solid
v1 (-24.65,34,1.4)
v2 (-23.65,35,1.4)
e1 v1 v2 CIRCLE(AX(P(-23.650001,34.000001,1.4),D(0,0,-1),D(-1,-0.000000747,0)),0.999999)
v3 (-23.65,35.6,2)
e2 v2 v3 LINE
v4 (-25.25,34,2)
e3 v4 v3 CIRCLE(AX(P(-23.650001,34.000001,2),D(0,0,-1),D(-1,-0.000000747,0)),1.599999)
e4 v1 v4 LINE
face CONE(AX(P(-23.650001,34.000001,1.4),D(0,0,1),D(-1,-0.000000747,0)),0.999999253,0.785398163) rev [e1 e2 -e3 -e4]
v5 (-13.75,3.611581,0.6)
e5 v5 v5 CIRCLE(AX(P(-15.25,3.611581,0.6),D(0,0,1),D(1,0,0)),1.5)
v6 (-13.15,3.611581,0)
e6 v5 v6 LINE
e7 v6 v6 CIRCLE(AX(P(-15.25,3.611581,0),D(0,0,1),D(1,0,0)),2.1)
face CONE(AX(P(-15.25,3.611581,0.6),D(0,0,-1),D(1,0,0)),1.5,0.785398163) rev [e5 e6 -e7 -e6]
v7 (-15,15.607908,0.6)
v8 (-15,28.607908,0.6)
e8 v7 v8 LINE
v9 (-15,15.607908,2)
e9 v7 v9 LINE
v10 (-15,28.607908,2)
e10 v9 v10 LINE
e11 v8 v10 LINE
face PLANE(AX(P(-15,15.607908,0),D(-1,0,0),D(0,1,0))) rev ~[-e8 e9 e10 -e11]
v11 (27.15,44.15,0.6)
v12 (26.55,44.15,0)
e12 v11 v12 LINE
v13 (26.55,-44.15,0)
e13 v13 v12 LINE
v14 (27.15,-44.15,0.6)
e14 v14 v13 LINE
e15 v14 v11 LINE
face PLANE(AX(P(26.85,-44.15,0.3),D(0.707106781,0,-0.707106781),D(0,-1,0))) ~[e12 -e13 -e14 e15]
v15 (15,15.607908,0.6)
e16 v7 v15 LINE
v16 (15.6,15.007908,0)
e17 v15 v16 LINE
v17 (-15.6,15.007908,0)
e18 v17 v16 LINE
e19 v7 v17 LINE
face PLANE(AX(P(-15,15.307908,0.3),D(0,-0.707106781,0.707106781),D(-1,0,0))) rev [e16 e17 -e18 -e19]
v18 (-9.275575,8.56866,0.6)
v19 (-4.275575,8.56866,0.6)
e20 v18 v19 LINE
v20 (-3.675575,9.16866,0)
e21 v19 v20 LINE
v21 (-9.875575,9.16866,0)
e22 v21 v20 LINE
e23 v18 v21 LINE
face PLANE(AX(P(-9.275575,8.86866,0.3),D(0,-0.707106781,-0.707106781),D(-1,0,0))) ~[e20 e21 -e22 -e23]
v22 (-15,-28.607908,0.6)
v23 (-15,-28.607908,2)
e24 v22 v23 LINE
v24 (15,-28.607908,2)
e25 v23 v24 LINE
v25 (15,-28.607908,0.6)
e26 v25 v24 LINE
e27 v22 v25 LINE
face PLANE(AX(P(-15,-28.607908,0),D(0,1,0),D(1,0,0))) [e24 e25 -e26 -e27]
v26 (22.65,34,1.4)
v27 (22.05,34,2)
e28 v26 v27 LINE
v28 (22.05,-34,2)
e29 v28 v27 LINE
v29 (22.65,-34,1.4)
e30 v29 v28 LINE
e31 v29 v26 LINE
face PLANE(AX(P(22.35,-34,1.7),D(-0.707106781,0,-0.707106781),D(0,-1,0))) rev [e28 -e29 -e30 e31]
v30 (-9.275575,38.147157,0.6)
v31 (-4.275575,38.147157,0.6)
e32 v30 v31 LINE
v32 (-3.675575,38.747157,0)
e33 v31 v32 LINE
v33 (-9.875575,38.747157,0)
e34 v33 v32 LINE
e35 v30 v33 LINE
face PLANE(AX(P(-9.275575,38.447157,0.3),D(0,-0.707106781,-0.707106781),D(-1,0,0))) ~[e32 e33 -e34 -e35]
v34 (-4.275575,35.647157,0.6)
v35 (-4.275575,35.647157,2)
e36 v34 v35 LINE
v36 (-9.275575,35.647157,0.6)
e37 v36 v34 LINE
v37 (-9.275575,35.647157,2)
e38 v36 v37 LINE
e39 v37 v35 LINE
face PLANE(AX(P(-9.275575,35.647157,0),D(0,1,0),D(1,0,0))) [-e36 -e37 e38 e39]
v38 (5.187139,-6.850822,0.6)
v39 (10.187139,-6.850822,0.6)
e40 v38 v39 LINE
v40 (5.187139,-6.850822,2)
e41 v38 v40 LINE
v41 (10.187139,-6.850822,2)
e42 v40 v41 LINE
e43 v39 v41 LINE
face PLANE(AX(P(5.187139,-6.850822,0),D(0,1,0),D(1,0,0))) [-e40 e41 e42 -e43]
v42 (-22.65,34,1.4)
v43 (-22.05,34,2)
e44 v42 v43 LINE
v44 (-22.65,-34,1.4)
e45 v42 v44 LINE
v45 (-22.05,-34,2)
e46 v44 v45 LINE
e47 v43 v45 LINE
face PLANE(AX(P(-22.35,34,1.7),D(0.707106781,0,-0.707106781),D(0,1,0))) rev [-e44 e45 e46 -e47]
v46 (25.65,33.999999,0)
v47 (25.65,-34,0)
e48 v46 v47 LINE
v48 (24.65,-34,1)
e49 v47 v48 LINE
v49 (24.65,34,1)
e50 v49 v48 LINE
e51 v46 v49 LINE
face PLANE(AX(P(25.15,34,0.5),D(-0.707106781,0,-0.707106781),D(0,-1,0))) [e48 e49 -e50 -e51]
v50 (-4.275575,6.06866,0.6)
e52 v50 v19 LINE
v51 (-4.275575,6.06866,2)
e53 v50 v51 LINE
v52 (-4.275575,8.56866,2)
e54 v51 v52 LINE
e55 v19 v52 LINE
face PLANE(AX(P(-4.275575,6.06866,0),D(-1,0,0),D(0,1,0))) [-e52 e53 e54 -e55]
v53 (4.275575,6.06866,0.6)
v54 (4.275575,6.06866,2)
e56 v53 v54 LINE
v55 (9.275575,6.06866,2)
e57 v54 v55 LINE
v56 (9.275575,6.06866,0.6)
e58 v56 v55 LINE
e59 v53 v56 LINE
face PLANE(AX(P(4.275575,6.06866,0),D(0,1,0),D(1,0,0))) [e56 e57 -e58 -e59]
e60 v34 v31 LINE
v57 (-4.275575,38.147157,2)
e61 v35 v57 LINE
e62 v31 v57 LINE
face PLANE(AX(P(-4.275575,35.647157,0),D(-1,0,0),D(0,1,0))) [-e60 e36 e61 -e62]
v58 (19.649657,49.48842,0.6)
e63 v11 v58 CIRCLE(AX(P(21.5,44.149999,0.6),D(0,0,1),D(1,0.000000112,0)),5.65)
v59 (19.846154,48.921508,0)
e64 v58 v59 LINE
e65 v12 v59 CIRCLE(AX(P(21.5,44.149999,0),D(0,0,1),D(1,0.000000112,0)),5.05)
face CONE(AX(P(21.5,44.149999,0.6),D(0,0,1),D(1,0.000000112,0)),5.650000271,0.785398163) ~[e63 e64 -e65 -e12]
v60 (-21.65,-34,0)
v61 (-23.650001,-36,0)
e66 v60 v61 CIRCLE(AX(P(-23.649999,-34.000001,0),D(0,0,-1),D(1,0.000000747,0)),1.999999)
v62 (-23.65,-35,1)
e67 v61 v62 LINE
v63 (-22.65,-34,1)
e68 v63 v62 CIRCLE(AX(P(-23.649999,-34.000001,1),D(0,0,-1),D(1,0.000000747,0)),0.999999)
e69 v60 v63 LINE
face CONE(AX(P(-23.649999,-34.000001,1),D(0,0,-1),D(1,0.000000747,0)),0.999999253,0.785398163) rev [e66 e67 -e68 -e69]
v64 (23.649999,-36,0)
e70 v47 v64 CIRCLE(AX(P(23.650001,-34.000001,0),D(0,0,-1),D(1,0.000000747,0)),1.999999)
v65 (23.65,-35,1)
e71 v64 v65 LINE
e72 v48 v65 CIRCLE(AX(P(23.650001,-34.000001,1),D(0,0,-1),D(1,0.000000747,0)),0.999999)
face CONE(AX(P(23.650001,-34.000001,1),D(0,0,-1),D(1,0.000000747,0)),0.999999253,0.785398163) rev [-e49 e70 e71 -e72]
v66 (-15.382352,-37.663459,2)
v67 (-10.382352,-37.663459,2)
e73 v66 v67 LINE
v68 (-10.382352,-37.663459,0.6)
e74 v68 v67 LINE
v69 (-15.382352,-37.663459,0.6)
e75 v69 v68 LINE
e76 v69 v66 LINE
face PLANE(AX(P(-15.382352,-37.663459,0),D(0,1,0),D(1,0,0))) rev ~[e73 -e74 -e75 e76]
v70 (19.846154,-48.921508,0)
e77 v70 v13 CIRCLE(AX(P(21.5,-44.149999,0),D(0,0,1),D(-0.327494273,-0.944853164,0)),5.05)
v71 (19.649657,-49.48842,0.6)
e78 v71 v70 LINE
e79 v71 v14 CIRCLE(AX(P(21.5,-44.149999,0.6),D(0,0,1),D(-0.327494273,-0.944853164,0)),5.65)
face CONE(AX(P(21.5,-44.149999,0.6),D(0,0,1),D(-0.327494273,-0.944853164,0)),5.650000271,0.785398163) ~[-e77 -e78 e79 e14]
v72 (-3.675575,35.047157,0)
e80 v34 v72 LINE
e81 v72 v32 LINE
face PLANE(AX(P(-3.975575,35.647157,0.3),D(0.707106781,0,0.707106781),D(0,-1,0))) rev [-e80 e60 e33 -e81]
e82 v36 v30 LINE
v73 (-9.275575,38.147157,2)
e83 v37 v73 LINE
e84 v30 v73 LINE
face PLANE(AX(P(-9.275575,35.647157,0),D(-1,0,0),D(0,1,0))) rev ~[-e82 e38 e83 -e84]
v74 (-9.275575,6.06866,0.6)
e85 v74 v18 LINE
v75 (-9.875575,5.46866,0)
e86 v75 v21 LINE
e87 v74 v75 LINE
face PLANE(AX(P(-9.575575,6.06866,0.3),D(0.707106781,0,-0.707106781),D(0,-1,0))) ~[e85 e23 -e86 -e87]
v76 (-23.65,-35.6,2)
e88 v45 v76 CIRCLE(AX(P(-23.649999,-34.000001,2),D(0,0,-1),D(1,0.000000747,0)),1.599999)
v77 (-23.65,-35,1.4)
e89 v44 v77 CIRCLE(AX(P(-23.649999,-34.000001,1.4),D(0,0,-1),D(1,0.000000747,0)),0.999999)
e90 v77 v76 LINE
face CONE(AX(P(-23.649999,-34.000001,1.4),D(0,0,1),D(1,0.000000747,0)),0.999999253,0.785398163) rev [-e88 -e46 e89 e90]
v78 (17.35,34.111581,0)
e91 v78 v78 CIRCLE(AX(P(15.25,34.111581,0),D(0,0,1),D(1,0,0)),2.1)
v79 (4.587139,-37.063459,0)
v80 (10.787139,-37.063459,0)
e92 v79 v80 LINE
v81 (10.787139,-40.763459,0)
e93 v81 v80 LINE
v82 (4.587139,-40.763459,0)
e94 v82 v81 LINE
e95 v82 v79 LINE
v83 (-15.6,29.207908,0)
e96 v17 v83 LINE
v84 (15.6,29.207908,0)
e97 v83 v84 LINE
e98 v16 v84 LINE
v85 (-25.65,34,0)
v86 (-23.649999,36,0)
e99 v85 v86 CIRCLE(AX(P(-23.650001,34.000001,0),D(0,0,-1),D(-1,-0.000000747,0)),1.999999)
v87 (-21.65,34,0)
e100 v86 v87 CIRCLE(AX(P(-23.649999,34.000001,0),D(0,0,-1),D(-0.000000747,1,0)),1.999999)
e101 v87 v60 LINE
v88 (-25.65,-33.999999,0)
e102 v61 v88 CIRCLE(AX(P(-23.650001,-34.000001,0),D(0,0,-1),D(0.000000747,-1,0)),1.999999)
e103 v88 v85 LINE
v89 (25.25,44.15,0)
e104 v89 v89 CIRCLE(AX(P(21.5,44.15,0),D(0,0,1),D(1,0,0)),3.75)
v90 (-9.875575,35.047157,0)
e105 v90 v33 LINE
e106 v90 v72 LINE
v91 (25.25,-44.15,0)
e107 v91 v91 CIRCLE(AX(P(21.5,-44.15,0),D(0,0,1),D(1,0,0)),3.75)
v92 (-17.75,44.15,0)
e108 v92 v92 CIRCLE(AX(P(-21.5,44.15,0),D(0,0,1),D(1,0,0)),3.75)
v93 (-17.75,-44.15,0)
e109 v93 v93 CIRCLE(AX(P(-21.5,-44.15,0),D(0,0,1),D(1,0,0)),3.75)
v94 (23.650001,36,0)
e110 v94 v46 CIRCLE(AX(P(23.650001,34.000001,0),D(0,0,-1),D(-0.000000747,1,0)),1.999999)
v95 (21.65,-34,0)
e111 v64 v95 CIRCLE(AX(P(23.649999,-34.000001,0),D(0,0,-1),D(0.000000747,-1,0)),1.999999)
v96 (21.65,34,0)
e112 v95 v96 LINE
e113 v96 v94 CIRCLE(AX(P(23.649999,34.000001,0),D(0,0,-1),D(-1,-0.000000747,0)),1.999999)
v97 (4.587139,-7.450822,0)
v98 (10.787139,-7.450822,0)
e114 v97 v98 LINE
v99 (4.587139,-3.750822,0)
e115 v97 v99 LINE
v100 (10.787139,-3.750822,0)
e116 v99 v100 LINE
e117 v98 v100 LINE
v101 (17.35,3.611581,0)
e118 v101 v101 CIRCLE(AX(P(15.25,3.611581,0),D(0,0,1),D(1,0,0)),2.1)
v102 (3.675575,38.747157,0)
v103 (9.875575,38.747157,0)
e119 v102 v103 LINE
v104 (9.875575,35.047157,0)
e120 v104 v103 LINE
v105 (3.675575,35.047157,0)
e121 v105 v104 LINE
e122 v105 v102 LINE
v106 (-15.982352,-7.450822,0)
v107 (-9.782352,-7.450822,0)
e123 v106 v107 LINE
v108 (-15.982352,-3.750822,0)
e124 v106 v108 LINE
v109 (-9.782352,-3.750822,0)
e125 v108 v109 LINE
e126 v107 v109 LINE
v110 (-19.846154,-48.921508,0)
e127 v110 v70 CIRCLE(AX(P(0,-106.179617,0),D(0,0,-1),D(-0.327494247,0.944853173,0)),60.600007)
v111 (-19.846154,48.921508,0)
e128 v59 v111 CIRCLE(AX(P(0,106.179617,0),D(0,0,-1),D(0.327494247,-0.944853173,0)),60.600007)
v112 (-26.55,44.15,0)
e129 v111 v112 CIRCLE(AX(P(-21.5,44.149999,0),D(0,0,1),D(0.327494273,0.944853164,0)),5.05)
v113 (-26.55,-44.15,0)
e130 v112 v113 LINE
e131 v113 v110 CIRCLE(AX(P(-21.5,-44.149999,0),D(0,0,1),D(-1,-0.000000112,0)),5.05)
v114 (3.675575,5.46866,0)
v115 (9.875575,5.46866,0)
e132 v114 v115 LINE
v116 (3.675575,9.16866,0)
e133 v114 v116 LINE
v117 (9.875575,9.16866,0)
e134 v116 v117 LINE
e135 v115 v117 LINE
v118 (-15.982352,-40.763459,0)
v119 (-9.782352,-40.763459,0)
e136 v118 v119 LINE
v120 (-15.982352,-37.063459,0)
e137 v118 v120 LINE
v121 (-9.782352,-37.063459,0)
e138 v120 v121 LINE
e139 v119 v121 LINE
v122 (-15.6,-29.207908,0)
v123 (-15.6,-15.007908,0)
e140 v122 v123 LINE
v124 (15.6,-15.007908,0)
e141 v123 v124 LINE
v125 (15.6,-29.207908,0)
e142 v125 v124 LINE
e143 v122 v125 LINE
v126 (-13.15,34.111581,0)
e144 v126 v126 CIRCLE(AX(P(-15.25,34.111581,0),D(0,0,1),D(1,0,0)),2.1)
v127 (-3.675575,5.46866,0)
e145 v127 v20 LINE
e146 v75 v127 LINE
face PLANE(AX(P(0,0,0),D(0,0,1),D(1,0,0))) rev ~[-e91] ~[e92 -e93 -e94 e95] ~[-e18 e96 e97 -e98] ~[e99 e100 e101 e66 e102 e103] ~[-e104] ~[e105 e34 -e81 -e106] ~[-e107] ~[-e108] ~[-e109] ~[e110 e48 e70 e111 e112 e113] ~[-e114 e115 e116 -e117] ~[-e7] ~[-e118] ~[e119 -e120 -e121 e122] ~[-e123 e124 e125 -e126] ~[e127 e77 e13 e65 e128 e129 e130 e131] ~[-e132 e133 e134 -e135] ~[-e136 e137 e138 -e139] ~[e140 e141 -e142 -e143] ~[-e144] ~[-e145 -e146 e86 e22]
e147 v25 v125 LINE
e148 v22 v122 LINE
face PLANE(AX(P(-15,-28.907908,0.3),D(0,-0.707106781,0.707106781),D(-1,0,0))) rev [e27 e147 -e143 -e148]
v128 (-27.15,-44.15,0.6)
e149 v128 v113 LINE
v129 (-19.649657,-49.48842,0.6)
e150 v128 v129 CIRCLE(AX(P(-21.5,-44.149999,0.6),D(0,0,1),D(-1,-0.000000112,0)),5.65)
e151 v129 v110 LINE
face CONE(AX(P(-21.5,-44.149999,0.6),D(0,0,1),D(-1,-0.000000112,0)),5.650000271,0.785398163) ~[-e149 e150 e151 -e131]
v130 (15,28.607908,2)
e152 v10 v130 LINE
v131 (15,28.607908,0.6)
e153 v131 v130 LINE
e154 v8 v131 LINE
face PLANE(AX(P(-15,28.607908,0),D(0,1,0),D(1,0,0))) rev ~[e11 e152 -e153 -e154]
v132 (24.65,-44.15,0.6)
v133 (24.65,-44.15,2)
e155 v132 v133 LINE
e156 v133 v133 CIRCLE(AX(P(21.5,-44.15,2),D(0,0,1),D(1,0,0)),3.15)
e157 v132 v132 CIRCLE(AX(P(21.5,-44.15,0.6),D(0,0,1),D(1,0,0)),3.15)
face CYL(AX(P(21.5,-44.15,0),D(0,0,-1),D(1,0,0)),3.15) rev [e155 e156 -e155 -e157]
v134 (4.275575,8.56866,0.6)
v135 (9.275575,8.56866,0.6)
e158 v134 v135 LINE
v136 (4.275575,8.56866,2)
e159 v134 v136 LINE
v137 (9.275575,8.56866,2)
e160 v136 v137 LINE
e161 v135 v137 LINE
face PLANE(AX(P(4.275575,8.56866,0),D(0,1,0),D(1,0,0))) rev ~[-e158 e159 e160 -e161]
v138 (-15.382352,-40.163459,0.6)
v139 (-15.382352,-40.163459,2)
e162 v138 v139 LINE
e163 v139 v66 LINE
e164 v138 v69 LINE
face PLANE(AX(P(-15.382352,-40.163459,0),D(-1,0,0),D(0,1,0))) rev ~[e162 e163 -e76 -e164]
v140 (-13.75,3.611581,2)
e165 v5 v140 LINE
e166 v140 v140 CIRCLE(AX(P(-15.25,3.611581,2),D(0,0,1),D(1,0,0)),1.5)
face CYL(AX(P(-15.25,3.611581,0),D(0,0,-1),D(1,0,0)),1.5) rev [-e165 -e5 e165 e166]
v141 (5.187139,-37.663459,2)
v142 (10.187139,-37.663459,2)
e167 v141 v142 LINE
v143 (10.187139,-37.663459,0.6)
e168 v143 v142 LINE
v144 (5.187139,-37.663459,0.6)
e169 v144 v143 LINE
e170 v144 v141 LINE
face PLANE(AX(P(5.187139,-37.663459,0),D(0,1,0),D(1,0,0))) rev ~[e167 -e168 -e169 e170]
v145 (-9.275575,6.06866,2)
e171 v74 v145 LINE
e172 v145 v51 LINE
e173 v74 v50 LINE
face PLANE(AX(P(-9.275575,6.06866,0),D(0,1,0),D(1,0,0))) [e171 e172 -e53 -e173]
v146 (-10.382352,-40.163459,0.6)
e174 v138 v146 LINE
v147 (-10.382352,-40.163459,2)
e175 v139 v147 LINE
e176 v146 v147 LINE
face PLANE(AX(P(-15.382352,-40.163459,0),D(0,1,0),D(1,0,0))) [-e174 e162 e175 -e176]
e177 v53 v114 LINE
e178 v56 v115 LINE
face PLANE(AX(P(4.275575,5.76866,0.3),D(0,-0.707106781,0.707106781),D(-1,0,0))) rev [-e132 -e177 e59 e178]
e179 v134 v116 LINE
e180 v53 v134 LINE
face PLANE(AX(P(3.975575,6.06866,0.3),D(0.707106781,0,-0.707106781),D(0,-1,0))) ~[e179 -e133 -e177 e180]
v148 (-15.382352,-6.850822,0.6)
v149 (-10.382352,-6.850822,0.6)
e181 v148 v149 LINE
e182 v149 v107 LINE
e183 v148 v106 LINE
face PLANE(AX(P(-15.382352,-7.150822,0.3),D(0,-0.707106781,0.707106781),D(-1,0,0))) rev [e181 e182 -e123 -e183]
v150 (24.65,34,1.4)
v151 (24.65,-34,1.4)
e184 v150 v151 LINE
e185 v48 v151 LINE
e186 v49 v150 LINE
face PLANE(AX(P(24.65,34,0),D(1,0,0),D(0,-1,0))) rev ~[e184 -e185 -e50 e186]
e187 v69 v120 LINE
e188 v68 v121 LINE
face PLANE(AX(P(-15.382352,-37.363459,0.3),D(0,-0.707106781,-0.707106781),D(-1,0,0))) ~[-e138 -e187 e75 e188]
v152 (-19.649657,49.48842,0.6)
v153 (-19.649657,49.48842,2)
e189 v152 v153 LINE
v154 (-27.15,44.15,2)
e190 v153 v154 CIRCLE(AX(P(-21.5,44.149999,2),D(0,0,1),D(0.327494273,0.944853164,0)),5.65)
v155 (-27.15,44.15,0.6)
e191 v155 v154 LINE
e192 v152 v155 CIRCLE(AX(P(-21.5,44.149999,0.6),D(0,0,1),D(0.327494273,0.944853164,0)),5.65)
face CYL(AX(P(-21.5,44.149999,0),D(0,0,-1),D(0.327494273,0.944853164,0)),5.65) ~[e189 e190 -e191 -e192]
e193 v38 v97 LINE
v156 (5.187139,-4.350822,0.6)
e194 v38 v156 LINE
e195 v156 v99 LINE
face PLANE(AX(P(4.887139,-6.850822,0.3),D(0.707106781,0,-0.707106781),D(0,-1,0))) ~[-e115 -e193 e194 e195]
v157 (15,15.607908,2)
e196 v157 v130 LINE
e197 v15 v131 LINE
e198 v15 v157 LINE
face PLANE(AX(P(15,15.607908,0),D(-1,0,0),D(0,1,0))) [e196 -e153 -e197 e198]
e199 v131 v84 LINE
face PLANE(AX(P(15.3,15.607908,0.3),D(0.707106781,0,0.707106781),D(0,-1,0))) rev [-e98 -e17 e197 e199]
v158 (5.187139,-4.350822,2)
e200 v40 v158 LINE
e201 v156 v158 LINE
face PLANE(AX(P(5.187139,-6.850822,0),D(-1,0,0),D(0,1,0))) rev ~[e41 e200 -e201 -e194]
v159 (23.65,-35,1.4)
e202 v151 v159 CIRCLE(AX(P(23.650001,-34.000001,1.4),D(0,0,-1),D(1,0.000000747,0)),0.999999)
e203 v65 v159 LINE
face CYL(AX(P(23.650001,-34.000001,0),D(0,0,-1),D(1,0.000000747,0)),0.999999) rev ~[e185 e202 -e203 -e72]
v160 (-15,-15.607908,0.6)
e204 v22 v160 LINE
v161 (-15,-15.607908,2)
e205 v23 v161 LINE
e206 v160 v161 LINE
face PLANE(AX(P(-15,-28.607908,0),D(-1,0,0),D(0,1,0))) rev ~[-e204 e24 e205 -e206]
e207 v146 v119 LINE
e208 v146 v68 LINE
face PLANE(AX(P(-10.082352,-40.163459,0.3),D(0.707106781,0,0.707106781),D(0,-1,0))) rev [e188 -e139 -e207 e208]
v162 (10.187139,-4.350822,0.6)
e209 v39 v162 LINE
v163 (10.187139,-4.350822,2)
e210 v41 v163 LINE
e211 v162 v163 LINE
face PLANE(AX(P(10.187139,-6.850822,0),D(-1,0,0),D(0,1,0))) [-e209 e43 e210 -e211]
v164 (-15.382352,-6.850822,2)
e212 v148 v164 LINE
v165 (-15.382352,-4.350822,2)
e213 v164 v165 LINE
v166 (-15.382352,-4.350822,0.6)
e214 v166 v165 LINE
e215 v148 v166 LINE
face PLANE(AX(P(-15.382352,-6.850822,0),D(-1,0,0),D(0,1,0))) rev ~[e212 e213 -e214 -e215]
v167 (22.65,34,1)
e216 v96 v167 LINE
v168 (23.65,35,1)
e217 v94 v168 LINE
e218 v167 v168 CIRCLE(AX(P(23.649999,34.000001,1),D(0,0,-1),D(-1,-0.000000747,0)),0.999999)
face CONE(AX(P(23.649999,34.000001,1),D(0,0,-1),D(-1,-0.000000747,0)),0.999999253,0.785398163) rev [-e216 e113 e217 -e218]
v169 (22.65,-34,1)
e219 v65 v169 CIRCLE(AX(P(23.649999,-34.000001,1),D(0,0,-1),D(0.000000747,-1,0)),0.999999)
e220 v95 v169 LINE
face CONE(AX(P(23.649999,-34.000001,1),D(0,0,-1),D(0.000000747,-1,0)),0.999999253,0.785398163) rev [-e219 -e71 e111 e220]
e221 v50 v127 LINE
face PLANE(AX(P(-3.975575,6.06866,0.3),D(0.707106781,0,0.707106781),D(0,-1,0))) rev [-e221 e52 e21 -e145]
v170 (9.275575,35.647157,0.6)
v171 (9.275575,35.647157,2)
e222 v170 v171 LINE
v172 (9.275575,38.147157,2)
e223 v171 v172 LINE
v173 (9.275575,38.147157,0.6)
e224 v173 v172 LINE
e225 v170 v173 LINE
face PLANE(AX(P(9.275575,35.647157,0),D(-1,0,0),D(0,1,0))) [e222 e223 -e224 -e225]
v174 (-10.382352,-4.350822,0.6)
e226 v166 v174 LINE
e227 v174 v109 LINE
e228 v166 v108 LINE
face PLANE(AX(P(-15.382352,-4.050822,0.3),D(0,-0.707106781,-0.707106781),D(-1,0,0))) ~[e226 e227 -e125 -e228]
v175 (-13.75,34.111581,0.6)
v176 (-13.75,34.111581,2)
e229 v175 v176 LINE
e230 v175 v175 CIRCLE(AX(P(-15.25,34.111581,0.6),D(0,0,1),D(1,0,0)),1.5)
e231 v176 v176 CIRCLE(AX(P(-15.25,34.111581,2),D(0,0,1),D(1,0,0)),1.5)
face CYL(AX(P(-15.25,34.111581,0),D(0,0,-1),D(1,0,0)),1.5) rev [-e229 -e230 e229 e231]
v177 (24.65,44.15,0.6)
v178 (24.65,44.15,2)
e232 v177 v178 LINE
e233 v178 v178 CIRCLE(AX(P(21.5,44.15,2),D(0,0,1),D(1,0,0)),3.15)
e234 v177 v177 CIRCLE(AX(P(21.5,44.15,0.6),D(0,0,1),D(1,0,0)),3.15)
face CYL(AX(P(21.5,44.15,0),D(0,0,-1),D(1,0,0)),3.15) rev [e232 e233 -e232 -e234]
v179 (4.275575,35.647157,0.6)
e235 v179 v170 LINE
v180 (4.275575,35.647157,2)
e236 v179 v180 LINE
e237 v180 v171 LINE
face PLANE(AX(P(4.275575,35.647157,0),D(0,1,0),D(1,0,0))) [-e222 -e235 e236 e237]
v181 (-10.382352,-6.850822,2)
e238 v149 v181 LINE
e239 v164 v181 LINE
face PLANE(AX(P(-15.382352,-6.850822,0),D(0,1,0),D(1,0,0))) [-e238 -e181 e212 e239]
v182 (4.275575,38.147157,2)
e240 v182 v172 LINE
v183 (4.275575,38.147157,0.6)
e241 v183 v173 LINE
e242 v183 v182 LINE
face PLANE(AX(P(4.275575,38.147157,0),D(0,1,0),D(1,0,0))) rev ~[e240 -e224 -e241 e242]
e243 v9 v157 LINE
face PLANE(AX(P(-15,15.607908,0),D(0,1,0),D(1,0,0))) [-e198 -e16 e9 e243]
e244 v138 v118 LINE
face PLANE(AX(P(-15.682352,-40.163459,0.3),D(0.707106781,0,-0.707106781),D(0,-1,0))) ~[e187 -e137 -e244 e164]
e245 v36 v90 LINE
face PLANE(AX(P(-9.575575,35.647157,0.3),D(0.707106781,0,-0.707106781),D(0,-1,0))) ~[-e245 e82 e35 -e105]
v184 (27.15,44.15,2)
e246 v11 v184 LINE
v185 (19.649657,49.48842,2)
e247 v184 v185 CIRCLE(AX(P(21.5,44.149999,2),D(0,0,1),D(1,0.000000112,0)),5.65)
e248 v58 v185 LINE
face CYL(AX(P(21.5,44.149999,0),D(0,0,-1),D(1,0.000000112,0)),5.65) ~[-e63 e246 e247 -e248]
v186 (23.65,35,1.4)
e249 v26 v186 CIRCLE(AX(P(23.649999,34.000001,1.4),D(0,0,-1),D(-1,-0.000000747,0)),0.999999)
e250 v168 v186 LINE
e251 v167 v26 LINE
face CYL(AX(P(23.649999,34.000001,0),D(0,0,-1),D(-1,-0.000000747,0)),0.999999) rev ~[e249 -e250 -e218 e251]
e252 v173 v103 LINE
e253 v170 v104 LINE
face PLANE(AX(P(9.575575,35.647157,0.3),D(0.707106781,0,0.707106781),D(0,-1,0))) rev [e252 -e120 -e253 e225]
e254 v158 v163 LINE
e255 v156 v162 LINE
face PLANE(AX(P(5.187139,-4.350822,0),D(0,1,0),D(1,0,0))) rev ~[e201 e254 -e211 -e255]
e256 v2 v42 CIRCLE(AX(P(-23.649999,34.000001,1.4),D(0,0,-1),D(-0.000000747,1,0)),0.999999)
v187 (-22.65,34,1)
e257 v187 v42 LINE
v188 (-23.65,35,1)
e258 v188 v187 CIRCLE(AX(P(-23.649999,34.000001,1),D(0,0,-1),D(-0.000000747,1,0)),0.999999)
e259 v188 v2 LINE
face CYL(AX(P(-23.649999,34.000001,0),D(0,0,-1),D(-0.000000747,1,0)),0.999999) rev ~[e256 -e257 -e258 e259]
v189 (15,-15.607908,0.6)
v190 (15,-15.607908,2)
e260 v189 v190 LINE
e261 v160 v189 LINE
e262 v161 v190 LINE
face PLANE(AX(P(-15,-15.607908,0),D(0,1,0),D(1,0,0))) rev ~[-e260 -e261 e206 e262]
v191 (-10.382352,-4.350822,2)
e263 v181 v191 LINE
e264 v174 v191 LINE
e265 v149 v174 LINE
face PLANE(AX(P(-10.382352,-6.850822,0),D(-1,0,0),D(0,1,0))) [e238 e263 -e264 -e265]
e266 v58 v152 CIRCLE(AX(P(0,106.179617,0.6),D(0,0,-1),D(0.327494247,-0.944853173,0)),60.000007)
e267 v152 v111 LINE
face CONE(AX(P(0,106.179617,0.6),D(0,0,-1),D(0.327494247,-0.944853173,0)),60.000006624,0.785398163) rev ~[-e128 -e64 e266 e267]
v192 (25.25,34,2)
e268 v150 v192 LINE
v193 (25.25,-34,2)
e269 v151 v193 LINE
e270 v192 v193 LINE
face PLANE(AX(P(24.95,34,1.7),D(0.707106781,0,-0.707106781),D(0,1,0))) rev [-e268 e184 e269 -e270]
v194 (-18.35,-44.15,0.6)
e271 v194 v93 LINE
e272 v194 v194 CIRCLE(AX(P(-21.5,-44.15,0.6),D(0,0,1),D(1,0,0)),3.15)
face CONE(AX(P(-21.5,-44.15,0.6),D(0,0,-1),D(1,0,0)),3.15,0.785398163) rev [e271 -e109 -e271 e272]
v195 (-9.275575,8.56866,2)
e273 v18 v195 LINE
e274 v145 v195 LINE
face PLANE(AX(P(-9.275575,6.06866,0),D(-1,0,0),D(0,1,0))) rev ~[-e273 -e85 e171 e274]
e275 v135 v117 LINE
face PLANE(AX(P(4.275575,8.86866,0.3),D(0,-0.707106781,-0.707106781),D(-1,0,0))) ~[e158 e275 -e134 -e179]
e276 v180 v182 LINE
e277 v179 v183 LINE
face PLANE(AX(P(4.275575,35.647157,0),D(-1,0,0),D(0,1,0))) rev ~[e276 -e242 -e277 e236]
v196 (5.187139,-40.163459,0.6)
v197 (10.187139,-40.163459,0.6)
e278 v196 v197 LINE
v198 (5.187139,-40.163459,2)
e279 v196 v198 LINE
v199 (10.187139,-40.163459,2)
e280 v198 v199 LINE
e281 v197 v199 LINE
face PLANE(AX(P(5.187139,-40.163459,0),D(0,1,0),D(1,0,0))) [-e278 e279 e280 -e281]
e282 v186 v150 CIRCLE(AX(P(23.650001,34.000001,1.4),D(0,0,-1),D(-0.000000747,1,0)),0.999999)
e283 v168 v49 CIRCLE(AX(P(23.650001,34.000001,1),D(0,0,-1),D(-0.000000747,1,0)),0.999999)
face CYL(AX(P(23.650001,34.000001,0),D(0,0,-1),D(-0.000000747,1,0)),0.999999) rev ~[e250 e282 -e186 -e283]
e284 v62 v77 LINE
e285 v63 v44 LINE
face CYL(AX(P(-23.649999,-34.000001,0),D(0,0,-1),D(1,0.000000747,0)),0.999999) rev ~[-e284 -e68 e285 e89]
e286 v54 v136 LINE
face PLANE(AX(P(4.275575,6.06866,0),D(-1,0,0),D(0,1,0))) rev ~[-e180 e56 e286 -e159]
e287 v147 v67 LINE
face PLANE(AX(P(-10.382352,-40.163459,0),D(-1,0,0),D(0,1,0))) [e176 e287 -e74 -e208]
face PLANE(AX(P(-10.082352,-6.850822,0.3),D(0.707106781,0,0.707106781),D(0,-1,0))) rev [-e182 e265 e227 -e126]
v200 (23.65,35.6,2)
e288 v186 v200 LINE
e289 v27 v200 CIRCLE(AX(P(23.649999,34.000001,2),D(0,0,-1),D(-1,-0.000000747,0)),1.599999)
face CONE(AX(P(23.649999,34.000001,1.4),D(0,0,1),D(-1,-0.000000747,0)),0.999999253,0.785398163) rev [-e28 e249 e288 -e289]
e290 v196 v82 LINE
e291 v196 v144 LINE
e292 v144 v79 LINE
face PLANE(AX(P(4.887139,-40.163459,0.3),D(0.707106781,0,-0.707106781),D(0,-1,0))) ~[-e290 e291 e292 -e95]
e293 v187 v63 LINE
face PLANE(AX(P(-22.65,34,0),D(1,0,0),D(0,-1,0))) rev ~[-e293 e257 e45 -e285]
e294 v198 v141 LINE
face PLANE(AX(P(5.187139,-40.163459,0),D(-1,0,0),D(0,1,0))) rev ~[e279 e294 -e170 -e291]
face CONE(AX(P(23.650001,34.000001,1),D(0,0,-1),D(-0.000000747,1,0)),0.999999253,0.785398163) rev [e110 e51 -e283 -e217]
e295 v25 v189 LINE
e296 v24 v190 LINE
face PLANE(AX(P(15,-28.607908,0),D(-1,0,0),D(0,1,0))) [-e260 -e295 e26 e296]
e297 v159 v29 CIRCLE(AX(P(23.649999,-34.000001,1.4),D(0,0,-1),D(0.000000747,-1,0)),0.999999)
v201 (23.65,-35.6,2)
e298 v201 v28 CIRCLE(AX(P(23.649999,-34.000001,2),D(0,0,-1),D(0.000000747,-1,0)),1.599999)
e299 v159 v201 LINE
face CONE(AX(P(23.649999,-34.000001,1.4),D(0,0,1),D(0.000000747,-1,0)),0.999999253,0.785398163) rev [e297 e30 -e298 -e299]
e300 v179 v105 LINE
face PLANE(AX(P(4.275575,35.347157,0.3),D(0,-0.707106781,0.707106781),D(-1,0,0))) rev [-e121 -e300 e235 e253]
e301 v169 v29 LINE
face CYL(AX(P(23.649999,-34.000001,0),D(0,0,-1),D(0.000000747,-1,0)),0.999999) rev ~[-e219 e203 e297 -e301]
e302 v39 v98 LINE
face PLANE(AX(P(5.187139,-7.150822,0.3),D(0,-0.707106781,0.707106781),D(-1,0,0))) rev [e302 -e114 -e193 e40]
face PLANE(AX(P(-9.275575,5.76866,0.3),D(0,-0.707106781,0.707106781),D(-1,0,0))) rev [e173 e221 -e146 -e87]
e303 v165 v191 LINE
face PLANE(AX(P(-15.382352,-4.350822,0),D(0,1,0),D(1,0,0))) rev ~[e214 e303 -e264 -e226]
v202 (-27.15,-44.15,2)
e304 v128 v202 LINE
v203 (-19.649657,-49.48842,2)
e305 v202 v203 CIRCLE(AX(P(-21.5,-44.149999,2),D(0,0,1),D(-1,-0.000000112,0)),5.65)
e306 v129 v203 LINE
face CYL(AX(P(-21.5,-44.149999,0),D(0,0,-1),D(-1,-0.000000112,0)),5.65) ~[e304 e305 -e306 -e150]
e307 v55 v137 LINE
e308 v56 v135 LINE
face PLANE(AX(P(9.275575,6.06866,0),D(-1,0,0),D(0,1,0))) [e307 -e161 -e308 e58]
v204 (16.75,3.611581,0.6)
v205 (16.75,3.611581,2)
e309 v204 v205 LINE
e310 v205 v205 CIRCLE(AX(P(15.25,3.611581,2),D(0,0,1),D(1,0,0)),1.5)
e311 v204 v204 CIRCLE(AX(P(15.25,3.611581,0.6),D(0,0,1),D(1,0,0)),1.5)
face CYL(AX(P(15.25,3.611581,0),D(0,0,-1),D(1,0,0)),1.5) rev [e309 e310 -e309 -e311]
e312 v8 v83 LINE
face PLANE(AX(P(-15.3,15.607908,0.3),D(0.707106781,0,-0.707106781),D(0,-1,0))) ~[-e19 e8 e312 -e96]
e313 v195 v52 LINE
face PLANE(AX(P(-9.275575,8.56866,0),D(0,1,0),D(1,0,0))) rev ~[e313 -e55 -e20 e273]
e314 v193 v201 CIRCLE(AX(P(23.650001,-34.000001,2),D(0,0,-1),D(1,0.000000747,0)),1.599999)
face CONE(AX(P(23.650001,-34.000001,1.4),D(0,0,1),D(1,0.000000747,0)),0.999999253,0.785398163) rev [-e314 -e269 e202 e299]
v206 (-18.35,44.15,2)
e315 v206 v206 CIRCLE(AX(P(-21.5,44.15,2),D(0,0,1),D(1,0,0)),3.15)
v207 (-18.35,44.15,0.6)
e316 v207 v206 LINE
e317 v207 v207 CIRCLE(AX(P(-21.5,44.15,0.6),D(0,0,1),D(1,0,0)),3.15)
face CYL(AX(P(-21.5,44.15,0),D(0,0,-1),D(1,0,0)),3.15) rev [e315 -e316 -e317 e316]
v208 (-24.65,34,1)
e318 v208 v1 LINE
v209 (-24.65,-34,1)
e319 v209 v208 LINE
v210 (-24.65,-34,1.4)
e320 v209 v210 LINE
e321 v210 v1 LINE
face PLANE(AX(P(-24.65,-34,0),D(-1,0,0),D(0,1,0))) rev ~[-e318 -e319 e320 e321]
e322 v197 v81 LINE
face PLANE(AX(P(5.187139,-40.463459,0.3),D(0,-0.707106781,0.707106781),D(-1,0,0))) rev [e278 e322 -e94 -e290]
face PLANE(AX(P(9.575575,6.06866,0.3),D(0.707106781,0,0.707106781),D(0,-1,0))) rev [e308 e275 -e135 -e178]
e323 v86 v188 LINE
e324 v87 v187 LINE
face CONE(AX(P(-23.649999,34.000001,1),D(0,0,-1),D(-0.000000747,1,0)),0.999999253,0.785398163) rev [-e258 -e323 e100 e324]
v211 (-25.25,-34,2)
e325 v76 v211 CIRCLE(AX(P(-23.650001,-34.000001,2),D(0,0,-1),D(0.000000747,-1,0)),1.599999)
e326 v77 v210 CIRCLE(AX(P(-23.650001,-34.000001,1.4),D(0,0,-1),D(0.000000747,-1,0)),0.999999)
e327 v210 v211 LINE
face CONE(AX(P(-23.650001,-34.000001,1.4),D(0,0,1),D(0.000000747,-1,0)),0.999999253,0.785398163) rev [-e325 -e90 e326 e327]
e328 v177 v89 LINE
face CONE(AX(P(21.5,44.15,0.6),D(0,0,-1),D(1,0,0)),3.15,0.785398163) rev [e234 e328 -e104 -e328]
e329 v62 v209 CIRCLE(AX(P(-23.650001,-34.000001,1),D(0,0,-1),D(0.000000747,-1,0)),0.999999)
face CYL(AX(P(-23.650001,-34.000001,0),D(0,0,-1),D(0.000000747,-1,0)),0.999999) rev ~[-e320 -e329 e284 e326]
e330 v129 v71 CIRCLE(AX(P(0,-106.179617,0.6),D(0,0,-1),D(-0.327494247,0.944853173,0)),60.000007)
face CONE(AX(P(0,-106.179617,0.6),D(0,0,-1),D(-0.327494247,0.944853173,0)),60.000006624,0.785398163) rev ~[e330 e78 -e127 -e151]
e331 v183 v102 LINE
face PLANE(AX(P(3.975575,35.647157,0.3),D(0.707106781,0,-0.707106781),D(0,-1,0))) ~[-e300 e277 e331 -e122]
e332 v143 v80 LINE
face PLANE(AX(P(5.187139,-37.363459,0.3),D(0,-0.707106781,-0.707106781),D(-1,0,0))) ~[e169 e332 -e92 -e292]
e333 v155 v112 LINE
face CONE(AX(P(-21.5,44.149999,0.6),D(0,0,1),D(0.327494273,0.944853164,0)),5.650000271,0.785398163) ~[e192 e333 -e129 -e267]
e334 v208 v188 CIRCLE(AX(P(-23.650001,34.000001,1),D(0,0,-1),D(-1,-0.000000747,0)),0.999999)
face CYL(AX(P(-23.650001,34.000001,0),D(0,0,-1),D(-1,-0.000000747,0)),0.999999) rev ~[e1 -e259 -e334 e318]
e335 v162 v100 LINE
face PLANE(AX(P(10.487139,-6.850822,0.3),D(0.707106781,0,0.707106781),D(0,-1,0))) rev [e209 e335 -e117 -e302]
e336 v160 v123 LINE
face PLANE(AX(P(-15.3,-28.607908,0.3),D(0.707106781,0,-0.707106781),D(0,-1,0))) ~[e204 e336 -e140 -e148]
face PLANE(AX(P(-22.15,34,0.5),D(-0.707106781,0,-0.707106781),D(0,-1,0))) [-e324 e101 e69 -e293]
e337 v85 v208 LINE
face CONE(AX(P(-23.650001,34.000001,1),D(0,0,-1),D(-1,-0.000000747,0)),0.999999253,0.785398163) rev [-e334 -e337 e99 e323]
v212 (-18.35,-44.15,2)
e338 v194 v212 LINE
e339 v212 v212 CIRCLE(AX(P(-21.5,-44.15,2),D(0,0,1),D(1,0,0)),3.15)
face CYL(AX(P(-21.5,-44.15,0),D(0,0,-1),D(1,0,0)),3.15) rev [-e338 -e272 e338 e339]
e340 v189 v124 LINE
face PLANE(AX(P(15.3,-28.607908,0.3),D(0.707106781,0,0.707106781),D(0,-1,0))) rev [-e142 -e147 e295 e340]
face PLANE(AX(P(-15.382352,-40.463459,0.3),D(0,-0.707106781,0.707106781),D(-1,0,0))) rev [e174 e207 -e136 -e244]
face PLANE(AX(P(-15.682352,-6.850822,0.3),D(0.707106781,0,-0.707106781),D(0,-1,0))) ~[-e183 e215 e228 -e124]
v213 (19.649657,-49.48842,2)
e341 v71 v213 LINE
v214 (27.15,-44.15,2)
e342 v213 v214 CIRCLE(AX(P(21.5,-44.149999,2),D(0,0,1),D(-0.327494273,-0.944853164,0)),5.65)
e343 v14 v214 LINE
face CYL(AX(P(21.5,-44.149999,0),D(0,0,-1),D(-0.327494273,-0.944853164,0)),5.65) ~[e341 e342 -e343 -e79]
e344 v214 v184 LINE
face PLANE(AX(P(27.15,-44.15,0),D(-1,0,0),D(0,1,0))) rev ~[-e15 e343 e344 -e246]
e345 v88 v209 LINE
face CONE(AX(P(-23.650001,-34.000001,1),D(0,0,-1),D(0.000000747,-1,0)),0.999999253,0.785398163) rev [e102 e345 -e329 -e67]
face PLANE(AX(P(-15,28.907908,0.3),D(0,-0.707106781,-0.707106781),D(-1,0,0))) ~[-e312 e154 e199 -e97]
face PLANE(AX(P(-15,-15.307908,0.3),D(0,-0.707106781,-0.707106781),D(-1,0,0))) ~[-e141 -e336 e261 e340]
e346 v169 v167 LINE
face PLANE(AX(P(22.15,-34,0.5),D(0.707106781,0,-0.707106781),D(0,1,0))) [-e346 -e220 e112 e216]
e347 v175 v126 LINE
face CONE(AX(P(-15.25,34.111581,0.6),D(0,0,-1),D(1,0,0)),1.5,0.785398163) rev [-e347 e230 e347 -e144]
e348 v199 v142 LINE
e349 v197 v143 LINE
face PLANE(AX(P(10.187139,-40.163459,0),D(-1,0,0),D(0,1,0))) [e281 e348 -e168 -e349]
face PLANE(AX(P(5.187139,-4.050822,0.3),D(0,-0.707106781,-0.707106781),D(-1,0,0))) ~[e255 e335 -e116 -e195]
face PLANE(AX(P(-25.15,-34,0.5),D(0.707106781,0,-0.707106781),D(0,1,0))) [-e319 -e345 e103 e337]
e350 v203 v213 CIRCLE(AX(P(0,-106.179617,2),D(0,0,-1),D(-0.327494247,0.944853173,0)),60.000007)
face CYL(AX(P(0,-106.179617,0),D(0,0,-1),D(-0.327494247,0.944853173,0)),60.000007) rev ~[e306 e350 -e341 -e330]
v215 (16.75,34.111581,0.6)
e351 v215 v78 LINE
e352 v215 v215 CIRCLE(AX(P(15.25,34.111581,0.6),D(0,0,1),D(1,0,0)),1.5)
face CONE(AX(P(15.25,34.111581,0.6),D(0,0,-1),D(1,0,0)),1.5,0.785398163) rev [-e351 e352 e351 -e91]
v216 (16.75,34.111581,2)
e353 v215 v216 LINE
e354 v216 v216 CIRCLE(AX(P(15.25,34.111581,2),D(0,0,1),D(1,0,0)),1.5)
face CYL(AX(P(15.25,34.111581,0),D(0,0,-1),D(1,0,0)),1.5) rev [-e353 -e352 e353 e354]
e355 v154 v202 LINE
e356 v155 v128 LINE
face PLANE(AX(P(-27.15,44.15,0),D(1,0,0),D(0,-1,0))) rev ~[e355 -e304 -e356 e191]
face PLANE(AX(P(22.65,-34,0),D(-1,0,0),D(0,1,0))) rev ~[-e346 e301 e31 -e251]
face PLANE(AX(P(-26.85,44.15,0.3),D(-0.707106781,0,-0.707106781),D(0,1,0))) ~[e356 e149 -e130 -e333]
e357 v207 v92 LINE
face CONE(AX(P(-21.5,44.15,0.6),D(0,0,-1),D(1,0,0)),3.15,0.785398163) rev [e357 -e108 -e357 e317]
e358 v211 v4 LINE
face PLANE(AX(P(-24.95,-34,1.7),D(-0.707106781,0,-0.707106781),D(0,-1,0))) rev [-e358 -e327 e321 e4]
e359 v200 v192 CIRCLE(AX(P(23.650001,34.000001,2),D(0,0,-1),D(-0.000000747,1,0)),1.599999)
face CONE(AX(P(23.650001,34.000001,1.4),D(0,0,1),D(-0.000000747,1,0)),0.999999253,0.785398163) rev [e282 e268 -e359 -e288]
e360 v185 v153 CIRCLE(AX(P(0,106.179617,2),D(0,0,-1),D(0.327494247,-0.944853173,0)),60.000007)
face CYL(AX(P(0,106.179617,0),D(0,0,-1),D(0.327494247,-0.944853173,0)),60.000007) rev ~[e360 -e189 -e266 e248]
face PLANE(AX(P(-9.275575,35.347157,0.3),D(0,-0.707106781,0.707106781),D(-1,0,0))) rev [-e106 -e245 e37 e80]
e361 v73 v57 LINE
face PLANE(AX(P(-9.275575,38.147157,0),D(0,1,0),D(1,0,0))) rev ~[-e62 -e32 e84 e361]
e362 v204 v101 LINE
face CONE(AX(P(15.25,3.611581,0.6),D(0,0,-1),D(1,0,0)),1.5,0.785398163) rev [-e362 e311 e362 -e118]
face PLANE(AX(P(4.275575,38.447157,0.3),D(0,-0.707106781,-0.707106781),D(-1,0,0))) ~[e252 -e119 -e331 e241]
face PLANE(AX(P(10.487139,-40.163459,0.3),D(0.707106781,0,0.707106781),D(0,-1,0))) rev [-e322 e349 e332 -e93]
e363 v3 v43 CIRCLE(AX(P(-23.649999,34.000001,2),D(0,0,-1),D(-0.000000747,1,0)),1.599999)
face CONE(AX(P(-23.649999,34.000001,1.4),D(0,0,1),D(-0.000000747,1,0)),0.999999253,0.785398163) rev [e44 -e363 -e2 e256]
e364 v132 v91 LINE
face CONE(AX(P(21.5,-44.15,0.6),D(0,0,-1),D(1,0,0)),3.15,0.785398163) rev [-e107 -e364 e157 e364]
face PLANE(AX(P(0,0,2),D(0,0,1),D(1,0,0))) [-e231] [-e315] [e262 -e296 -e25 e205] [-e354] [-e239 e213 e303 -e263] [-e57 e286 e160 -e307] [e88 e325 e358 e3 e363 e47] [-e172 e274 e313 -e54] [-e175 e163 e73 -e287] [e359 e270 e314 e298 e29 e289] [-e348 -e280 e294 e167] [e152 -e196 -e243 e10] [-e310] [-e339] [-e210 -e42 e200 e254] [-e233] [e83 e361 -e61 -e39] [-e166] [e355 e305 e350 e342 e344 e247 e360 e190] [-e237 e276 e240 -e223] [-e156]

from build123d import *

# Parameters (mm, degrees)
F0_R     = 3.15
F0_W     = 5
F0_H     = 2.5
F0_W_2   = 30
F0_H_2   = 13
F0_R_2   = 1.5
F1_DEPTH = 2
F2_SIZE  = 0.6
F3_SIZE  = 1


with BuildPart() as f1:
    # F0 (on Top) → F1 (new body)
    with BuildSketch(Plane.XY):
        with BuildLine():
            ThreePointArc((19.649657, 49.48842), (0, 46.17961), (-19.649657, 49.48842))
            ThreePointArc((-19.649657, 49.48842), (-24.776283, 48.753093), (-27.15, 44.15))
            Line((-27.15, 44.15), (-27.15, -44.15))
            ThreePointArc((-27.15, -44.15), (-24.776283, -48.753093), (-19.649657, -49.48842))
            ThreePointArc((-19.649657, -49.48842), (0, -46.17961), (19.649657, -49.48842))
            ThreePointArc((19.649657, -49.48842), (24.776283, -48.753093), (27.15, -44.15))
            Line((27.15, -44.15), (27.15, 44.15))
            ThreePointArc((27.15, 44.15), (24.776283, 48.753093), (19.649657, 49.48842))
        make_face()
        with Locations((-21.5, -44.15)):
            Circle(F0_R, mode=Mode.SUBTRACT)
        with Locations((-12.882352, -38.913459)):
            Rectangle(F0_W, F0_H, mode=Mode.SUBTRACT)
        with Locations((-12.882352, -5.600822)):
            Rectangle(F0_W, F0_H, mode=Mode.SUBTRACT)
        with Locations((7.687139, -38.913459)):
            Rectangle(F0_W, F0_H, mode=Mode.SUBTRACT)
        with Locations((21.5, -44.15)):
            Circle(F0_R, mode=Mode.SUBTRACT)
        with Locations((0, -22.107908)):
            Rectangle(F0_W_2, F0_H_2, mode=Mode.SUBTRACT)
        with Locations((7.687139, -5.600822)):
            Rectangle(F0_W, F0_H, mode=Mode.SUBTRACT)
        with BuildLine():
            ThreePointArc((-22.65, -34), (-22.942893, -34.707107), (-23.65, -35))
            ThreePointArc((-23.65, -35), (-24.357107, -34.707107), (-24.65, -34))
            Line((-24.65, -34), (-24.65, 34))
            ThreePointArc((-24.65, 34), (-24.357107, 34.707107), (-23.65, 35))
            ThreePointArc((-23.65, 35), (-22.942893, 34.707107), (-22.65, 34))
            Line((-22.65, 34), (-22.65, -34))
        make_face(mode=Mode.SUBTRACT)
        with Locations((-15.25, 3.611581)):
            Circle(F0_R_2, mode=Mode.SUBTRACT)
        with Locations((-6.775575, 7.31866)):
            Rectangle(F0_W, F0_H, mode=Mode.SUBTRACT)
        with Locations((-15.25, 34.111581)):
            Circle(F0_R_2, mode=Mode.SUBTRACT)
        with Locations((-21.5, 44.15)):
            Circle(F0_R, mode=Mode.SUBTRACT)
        with Locations((-6.775575, 36.897157)):
            Rectangle(F0_W, F0_H, mode=Mode.SUBTRACT)
        with Locations((6.775575, 7.31866)):
            Rectangle(F0_W, F0_H, mode=Mode.SUBTRACT)
        with Locations((0, 22.107908)):
            Rectangle(F0_W_2, F0_H_2, mode=Mode.SUBTRACT)
        with Locations((15.25, 3.611581)):
            Circle(F0_R_2, mode=Mode.SUBTRACT)
        with BuildLine():
            Line((22.65, -34), (22.65, 34))
            ThreePointArc((22.65, 34), (22.942893, 34.707107), (23.65, 35))
            ThreePointArc((23.65, 35), (24.357107, 34.707107), (24.65, 34))
            Line((24.65, 34), (24.65, -34))
            ThreePointArc((24.65, -34), (24.357107, -34.707107), (23.65, -35))
            ThreePointArc((23.65, -35), (22.942893, -34.707107), (22.65, -34))
        make_face(mode=Mode.SUBTRACT)
        with Locations((6.775575, 36.897157)):
            Rectangle(F0_W, F0_H, mode=Mode.SUBTRACT)
        with Locations((15.25, 34.111581)):
            Circle(F0_R_2, mode=Mode.SUBTRACT)
        with Locations((21.5, 44.15)):
            Circle(F0_R, mode=Mode.SUBTRACT)
    extrude(amount=F1_DEPTH)

    # F2
    f2_edges = [f1.edges().sort_by_distance(p)[0] for p in [
        (27.15, 0, 0),
        (18.35, -44.15, 0),
        (-24.65, -44.15, 0),
        (-15.382352, -38.913459, 0),
        (-12.882352, -37.663459, 0),
        (-10.382352, -38.913459, 0),
        (-12.882352, -40.163459, 0),
        (5.187139, -38.913459, 0),
        (7.687139, -37.663459, 0),
        (10.187139, -38.913459, 0),
        (7.687139, -40.163459, 0),
        (0, -28.607908, 0),
        (15, -22.107908, 0),
        (0, -15.607908, 0),
        (-15, -22.107908, 0),
        (-15.382352, -5.600822, 0),
        (-12.882352, -6.850822, 0),
        (-10.382352, -5.600822, 0),
        (-12.882352, -4.350822, 0),
        (5.187139, -5.600822, 0),
        (7.687139, -4.350822, 0),
        (7.687139, -6.850822, 0),
        (10.187139, -5.600822, 0),
        (13.75, 3.611581, 0),
        (-16.75, 3.611581, 0),
        (9.275575, 7.31866, 0),
        (6.775575, 8.56866, 0),
        (6.775575, 6.06866, 0),
        (4.275575, 7.31866, 0),
        (-4.275575, 7.31866, 0),
        (-6.775575, 8.56866, 0),
        (-6.775575, 6.06866, 0),
        (-9.275575, 7.31866, 0),
        (0, 15.607908, 0),
        (15, 22.107908, 0),
        (0, 28.607908, 0),
        (-15, 22.107908, 0),
        (13.75, 34.111581, 0),
        (9.275575, 36.897157, 0),
        (6.775575, 35.647157, 0),
        (6.775575, 38.147157, 0),
        (4.275575, 36.897157, 0),
        (-4.275575, 36.897157, 0),
        (-6.775575, 38.147157, 0),
        (-6.775575, 35.647157, 0),
        (-9.275575, 36.897157, 0),
        (18.35, 44.15, 0),
        (-24.65, 44.15, 0),
        (-16.75, 34.111581, 0),
        (22.65, 0, 2),
        (-22.65, 0, 2),
    ]]
    chamfer(f2_edges, length=F2_SIZE)

    # F3
    f3_edges = [f1.edges().sort_by_distance(p)[0] for p in [
        (22.65, 0, 0),
        (-22.65, 0, 0),
    ]]
    chamfer(f3_edges, length=F3_SIZE)


solid = f1.part
